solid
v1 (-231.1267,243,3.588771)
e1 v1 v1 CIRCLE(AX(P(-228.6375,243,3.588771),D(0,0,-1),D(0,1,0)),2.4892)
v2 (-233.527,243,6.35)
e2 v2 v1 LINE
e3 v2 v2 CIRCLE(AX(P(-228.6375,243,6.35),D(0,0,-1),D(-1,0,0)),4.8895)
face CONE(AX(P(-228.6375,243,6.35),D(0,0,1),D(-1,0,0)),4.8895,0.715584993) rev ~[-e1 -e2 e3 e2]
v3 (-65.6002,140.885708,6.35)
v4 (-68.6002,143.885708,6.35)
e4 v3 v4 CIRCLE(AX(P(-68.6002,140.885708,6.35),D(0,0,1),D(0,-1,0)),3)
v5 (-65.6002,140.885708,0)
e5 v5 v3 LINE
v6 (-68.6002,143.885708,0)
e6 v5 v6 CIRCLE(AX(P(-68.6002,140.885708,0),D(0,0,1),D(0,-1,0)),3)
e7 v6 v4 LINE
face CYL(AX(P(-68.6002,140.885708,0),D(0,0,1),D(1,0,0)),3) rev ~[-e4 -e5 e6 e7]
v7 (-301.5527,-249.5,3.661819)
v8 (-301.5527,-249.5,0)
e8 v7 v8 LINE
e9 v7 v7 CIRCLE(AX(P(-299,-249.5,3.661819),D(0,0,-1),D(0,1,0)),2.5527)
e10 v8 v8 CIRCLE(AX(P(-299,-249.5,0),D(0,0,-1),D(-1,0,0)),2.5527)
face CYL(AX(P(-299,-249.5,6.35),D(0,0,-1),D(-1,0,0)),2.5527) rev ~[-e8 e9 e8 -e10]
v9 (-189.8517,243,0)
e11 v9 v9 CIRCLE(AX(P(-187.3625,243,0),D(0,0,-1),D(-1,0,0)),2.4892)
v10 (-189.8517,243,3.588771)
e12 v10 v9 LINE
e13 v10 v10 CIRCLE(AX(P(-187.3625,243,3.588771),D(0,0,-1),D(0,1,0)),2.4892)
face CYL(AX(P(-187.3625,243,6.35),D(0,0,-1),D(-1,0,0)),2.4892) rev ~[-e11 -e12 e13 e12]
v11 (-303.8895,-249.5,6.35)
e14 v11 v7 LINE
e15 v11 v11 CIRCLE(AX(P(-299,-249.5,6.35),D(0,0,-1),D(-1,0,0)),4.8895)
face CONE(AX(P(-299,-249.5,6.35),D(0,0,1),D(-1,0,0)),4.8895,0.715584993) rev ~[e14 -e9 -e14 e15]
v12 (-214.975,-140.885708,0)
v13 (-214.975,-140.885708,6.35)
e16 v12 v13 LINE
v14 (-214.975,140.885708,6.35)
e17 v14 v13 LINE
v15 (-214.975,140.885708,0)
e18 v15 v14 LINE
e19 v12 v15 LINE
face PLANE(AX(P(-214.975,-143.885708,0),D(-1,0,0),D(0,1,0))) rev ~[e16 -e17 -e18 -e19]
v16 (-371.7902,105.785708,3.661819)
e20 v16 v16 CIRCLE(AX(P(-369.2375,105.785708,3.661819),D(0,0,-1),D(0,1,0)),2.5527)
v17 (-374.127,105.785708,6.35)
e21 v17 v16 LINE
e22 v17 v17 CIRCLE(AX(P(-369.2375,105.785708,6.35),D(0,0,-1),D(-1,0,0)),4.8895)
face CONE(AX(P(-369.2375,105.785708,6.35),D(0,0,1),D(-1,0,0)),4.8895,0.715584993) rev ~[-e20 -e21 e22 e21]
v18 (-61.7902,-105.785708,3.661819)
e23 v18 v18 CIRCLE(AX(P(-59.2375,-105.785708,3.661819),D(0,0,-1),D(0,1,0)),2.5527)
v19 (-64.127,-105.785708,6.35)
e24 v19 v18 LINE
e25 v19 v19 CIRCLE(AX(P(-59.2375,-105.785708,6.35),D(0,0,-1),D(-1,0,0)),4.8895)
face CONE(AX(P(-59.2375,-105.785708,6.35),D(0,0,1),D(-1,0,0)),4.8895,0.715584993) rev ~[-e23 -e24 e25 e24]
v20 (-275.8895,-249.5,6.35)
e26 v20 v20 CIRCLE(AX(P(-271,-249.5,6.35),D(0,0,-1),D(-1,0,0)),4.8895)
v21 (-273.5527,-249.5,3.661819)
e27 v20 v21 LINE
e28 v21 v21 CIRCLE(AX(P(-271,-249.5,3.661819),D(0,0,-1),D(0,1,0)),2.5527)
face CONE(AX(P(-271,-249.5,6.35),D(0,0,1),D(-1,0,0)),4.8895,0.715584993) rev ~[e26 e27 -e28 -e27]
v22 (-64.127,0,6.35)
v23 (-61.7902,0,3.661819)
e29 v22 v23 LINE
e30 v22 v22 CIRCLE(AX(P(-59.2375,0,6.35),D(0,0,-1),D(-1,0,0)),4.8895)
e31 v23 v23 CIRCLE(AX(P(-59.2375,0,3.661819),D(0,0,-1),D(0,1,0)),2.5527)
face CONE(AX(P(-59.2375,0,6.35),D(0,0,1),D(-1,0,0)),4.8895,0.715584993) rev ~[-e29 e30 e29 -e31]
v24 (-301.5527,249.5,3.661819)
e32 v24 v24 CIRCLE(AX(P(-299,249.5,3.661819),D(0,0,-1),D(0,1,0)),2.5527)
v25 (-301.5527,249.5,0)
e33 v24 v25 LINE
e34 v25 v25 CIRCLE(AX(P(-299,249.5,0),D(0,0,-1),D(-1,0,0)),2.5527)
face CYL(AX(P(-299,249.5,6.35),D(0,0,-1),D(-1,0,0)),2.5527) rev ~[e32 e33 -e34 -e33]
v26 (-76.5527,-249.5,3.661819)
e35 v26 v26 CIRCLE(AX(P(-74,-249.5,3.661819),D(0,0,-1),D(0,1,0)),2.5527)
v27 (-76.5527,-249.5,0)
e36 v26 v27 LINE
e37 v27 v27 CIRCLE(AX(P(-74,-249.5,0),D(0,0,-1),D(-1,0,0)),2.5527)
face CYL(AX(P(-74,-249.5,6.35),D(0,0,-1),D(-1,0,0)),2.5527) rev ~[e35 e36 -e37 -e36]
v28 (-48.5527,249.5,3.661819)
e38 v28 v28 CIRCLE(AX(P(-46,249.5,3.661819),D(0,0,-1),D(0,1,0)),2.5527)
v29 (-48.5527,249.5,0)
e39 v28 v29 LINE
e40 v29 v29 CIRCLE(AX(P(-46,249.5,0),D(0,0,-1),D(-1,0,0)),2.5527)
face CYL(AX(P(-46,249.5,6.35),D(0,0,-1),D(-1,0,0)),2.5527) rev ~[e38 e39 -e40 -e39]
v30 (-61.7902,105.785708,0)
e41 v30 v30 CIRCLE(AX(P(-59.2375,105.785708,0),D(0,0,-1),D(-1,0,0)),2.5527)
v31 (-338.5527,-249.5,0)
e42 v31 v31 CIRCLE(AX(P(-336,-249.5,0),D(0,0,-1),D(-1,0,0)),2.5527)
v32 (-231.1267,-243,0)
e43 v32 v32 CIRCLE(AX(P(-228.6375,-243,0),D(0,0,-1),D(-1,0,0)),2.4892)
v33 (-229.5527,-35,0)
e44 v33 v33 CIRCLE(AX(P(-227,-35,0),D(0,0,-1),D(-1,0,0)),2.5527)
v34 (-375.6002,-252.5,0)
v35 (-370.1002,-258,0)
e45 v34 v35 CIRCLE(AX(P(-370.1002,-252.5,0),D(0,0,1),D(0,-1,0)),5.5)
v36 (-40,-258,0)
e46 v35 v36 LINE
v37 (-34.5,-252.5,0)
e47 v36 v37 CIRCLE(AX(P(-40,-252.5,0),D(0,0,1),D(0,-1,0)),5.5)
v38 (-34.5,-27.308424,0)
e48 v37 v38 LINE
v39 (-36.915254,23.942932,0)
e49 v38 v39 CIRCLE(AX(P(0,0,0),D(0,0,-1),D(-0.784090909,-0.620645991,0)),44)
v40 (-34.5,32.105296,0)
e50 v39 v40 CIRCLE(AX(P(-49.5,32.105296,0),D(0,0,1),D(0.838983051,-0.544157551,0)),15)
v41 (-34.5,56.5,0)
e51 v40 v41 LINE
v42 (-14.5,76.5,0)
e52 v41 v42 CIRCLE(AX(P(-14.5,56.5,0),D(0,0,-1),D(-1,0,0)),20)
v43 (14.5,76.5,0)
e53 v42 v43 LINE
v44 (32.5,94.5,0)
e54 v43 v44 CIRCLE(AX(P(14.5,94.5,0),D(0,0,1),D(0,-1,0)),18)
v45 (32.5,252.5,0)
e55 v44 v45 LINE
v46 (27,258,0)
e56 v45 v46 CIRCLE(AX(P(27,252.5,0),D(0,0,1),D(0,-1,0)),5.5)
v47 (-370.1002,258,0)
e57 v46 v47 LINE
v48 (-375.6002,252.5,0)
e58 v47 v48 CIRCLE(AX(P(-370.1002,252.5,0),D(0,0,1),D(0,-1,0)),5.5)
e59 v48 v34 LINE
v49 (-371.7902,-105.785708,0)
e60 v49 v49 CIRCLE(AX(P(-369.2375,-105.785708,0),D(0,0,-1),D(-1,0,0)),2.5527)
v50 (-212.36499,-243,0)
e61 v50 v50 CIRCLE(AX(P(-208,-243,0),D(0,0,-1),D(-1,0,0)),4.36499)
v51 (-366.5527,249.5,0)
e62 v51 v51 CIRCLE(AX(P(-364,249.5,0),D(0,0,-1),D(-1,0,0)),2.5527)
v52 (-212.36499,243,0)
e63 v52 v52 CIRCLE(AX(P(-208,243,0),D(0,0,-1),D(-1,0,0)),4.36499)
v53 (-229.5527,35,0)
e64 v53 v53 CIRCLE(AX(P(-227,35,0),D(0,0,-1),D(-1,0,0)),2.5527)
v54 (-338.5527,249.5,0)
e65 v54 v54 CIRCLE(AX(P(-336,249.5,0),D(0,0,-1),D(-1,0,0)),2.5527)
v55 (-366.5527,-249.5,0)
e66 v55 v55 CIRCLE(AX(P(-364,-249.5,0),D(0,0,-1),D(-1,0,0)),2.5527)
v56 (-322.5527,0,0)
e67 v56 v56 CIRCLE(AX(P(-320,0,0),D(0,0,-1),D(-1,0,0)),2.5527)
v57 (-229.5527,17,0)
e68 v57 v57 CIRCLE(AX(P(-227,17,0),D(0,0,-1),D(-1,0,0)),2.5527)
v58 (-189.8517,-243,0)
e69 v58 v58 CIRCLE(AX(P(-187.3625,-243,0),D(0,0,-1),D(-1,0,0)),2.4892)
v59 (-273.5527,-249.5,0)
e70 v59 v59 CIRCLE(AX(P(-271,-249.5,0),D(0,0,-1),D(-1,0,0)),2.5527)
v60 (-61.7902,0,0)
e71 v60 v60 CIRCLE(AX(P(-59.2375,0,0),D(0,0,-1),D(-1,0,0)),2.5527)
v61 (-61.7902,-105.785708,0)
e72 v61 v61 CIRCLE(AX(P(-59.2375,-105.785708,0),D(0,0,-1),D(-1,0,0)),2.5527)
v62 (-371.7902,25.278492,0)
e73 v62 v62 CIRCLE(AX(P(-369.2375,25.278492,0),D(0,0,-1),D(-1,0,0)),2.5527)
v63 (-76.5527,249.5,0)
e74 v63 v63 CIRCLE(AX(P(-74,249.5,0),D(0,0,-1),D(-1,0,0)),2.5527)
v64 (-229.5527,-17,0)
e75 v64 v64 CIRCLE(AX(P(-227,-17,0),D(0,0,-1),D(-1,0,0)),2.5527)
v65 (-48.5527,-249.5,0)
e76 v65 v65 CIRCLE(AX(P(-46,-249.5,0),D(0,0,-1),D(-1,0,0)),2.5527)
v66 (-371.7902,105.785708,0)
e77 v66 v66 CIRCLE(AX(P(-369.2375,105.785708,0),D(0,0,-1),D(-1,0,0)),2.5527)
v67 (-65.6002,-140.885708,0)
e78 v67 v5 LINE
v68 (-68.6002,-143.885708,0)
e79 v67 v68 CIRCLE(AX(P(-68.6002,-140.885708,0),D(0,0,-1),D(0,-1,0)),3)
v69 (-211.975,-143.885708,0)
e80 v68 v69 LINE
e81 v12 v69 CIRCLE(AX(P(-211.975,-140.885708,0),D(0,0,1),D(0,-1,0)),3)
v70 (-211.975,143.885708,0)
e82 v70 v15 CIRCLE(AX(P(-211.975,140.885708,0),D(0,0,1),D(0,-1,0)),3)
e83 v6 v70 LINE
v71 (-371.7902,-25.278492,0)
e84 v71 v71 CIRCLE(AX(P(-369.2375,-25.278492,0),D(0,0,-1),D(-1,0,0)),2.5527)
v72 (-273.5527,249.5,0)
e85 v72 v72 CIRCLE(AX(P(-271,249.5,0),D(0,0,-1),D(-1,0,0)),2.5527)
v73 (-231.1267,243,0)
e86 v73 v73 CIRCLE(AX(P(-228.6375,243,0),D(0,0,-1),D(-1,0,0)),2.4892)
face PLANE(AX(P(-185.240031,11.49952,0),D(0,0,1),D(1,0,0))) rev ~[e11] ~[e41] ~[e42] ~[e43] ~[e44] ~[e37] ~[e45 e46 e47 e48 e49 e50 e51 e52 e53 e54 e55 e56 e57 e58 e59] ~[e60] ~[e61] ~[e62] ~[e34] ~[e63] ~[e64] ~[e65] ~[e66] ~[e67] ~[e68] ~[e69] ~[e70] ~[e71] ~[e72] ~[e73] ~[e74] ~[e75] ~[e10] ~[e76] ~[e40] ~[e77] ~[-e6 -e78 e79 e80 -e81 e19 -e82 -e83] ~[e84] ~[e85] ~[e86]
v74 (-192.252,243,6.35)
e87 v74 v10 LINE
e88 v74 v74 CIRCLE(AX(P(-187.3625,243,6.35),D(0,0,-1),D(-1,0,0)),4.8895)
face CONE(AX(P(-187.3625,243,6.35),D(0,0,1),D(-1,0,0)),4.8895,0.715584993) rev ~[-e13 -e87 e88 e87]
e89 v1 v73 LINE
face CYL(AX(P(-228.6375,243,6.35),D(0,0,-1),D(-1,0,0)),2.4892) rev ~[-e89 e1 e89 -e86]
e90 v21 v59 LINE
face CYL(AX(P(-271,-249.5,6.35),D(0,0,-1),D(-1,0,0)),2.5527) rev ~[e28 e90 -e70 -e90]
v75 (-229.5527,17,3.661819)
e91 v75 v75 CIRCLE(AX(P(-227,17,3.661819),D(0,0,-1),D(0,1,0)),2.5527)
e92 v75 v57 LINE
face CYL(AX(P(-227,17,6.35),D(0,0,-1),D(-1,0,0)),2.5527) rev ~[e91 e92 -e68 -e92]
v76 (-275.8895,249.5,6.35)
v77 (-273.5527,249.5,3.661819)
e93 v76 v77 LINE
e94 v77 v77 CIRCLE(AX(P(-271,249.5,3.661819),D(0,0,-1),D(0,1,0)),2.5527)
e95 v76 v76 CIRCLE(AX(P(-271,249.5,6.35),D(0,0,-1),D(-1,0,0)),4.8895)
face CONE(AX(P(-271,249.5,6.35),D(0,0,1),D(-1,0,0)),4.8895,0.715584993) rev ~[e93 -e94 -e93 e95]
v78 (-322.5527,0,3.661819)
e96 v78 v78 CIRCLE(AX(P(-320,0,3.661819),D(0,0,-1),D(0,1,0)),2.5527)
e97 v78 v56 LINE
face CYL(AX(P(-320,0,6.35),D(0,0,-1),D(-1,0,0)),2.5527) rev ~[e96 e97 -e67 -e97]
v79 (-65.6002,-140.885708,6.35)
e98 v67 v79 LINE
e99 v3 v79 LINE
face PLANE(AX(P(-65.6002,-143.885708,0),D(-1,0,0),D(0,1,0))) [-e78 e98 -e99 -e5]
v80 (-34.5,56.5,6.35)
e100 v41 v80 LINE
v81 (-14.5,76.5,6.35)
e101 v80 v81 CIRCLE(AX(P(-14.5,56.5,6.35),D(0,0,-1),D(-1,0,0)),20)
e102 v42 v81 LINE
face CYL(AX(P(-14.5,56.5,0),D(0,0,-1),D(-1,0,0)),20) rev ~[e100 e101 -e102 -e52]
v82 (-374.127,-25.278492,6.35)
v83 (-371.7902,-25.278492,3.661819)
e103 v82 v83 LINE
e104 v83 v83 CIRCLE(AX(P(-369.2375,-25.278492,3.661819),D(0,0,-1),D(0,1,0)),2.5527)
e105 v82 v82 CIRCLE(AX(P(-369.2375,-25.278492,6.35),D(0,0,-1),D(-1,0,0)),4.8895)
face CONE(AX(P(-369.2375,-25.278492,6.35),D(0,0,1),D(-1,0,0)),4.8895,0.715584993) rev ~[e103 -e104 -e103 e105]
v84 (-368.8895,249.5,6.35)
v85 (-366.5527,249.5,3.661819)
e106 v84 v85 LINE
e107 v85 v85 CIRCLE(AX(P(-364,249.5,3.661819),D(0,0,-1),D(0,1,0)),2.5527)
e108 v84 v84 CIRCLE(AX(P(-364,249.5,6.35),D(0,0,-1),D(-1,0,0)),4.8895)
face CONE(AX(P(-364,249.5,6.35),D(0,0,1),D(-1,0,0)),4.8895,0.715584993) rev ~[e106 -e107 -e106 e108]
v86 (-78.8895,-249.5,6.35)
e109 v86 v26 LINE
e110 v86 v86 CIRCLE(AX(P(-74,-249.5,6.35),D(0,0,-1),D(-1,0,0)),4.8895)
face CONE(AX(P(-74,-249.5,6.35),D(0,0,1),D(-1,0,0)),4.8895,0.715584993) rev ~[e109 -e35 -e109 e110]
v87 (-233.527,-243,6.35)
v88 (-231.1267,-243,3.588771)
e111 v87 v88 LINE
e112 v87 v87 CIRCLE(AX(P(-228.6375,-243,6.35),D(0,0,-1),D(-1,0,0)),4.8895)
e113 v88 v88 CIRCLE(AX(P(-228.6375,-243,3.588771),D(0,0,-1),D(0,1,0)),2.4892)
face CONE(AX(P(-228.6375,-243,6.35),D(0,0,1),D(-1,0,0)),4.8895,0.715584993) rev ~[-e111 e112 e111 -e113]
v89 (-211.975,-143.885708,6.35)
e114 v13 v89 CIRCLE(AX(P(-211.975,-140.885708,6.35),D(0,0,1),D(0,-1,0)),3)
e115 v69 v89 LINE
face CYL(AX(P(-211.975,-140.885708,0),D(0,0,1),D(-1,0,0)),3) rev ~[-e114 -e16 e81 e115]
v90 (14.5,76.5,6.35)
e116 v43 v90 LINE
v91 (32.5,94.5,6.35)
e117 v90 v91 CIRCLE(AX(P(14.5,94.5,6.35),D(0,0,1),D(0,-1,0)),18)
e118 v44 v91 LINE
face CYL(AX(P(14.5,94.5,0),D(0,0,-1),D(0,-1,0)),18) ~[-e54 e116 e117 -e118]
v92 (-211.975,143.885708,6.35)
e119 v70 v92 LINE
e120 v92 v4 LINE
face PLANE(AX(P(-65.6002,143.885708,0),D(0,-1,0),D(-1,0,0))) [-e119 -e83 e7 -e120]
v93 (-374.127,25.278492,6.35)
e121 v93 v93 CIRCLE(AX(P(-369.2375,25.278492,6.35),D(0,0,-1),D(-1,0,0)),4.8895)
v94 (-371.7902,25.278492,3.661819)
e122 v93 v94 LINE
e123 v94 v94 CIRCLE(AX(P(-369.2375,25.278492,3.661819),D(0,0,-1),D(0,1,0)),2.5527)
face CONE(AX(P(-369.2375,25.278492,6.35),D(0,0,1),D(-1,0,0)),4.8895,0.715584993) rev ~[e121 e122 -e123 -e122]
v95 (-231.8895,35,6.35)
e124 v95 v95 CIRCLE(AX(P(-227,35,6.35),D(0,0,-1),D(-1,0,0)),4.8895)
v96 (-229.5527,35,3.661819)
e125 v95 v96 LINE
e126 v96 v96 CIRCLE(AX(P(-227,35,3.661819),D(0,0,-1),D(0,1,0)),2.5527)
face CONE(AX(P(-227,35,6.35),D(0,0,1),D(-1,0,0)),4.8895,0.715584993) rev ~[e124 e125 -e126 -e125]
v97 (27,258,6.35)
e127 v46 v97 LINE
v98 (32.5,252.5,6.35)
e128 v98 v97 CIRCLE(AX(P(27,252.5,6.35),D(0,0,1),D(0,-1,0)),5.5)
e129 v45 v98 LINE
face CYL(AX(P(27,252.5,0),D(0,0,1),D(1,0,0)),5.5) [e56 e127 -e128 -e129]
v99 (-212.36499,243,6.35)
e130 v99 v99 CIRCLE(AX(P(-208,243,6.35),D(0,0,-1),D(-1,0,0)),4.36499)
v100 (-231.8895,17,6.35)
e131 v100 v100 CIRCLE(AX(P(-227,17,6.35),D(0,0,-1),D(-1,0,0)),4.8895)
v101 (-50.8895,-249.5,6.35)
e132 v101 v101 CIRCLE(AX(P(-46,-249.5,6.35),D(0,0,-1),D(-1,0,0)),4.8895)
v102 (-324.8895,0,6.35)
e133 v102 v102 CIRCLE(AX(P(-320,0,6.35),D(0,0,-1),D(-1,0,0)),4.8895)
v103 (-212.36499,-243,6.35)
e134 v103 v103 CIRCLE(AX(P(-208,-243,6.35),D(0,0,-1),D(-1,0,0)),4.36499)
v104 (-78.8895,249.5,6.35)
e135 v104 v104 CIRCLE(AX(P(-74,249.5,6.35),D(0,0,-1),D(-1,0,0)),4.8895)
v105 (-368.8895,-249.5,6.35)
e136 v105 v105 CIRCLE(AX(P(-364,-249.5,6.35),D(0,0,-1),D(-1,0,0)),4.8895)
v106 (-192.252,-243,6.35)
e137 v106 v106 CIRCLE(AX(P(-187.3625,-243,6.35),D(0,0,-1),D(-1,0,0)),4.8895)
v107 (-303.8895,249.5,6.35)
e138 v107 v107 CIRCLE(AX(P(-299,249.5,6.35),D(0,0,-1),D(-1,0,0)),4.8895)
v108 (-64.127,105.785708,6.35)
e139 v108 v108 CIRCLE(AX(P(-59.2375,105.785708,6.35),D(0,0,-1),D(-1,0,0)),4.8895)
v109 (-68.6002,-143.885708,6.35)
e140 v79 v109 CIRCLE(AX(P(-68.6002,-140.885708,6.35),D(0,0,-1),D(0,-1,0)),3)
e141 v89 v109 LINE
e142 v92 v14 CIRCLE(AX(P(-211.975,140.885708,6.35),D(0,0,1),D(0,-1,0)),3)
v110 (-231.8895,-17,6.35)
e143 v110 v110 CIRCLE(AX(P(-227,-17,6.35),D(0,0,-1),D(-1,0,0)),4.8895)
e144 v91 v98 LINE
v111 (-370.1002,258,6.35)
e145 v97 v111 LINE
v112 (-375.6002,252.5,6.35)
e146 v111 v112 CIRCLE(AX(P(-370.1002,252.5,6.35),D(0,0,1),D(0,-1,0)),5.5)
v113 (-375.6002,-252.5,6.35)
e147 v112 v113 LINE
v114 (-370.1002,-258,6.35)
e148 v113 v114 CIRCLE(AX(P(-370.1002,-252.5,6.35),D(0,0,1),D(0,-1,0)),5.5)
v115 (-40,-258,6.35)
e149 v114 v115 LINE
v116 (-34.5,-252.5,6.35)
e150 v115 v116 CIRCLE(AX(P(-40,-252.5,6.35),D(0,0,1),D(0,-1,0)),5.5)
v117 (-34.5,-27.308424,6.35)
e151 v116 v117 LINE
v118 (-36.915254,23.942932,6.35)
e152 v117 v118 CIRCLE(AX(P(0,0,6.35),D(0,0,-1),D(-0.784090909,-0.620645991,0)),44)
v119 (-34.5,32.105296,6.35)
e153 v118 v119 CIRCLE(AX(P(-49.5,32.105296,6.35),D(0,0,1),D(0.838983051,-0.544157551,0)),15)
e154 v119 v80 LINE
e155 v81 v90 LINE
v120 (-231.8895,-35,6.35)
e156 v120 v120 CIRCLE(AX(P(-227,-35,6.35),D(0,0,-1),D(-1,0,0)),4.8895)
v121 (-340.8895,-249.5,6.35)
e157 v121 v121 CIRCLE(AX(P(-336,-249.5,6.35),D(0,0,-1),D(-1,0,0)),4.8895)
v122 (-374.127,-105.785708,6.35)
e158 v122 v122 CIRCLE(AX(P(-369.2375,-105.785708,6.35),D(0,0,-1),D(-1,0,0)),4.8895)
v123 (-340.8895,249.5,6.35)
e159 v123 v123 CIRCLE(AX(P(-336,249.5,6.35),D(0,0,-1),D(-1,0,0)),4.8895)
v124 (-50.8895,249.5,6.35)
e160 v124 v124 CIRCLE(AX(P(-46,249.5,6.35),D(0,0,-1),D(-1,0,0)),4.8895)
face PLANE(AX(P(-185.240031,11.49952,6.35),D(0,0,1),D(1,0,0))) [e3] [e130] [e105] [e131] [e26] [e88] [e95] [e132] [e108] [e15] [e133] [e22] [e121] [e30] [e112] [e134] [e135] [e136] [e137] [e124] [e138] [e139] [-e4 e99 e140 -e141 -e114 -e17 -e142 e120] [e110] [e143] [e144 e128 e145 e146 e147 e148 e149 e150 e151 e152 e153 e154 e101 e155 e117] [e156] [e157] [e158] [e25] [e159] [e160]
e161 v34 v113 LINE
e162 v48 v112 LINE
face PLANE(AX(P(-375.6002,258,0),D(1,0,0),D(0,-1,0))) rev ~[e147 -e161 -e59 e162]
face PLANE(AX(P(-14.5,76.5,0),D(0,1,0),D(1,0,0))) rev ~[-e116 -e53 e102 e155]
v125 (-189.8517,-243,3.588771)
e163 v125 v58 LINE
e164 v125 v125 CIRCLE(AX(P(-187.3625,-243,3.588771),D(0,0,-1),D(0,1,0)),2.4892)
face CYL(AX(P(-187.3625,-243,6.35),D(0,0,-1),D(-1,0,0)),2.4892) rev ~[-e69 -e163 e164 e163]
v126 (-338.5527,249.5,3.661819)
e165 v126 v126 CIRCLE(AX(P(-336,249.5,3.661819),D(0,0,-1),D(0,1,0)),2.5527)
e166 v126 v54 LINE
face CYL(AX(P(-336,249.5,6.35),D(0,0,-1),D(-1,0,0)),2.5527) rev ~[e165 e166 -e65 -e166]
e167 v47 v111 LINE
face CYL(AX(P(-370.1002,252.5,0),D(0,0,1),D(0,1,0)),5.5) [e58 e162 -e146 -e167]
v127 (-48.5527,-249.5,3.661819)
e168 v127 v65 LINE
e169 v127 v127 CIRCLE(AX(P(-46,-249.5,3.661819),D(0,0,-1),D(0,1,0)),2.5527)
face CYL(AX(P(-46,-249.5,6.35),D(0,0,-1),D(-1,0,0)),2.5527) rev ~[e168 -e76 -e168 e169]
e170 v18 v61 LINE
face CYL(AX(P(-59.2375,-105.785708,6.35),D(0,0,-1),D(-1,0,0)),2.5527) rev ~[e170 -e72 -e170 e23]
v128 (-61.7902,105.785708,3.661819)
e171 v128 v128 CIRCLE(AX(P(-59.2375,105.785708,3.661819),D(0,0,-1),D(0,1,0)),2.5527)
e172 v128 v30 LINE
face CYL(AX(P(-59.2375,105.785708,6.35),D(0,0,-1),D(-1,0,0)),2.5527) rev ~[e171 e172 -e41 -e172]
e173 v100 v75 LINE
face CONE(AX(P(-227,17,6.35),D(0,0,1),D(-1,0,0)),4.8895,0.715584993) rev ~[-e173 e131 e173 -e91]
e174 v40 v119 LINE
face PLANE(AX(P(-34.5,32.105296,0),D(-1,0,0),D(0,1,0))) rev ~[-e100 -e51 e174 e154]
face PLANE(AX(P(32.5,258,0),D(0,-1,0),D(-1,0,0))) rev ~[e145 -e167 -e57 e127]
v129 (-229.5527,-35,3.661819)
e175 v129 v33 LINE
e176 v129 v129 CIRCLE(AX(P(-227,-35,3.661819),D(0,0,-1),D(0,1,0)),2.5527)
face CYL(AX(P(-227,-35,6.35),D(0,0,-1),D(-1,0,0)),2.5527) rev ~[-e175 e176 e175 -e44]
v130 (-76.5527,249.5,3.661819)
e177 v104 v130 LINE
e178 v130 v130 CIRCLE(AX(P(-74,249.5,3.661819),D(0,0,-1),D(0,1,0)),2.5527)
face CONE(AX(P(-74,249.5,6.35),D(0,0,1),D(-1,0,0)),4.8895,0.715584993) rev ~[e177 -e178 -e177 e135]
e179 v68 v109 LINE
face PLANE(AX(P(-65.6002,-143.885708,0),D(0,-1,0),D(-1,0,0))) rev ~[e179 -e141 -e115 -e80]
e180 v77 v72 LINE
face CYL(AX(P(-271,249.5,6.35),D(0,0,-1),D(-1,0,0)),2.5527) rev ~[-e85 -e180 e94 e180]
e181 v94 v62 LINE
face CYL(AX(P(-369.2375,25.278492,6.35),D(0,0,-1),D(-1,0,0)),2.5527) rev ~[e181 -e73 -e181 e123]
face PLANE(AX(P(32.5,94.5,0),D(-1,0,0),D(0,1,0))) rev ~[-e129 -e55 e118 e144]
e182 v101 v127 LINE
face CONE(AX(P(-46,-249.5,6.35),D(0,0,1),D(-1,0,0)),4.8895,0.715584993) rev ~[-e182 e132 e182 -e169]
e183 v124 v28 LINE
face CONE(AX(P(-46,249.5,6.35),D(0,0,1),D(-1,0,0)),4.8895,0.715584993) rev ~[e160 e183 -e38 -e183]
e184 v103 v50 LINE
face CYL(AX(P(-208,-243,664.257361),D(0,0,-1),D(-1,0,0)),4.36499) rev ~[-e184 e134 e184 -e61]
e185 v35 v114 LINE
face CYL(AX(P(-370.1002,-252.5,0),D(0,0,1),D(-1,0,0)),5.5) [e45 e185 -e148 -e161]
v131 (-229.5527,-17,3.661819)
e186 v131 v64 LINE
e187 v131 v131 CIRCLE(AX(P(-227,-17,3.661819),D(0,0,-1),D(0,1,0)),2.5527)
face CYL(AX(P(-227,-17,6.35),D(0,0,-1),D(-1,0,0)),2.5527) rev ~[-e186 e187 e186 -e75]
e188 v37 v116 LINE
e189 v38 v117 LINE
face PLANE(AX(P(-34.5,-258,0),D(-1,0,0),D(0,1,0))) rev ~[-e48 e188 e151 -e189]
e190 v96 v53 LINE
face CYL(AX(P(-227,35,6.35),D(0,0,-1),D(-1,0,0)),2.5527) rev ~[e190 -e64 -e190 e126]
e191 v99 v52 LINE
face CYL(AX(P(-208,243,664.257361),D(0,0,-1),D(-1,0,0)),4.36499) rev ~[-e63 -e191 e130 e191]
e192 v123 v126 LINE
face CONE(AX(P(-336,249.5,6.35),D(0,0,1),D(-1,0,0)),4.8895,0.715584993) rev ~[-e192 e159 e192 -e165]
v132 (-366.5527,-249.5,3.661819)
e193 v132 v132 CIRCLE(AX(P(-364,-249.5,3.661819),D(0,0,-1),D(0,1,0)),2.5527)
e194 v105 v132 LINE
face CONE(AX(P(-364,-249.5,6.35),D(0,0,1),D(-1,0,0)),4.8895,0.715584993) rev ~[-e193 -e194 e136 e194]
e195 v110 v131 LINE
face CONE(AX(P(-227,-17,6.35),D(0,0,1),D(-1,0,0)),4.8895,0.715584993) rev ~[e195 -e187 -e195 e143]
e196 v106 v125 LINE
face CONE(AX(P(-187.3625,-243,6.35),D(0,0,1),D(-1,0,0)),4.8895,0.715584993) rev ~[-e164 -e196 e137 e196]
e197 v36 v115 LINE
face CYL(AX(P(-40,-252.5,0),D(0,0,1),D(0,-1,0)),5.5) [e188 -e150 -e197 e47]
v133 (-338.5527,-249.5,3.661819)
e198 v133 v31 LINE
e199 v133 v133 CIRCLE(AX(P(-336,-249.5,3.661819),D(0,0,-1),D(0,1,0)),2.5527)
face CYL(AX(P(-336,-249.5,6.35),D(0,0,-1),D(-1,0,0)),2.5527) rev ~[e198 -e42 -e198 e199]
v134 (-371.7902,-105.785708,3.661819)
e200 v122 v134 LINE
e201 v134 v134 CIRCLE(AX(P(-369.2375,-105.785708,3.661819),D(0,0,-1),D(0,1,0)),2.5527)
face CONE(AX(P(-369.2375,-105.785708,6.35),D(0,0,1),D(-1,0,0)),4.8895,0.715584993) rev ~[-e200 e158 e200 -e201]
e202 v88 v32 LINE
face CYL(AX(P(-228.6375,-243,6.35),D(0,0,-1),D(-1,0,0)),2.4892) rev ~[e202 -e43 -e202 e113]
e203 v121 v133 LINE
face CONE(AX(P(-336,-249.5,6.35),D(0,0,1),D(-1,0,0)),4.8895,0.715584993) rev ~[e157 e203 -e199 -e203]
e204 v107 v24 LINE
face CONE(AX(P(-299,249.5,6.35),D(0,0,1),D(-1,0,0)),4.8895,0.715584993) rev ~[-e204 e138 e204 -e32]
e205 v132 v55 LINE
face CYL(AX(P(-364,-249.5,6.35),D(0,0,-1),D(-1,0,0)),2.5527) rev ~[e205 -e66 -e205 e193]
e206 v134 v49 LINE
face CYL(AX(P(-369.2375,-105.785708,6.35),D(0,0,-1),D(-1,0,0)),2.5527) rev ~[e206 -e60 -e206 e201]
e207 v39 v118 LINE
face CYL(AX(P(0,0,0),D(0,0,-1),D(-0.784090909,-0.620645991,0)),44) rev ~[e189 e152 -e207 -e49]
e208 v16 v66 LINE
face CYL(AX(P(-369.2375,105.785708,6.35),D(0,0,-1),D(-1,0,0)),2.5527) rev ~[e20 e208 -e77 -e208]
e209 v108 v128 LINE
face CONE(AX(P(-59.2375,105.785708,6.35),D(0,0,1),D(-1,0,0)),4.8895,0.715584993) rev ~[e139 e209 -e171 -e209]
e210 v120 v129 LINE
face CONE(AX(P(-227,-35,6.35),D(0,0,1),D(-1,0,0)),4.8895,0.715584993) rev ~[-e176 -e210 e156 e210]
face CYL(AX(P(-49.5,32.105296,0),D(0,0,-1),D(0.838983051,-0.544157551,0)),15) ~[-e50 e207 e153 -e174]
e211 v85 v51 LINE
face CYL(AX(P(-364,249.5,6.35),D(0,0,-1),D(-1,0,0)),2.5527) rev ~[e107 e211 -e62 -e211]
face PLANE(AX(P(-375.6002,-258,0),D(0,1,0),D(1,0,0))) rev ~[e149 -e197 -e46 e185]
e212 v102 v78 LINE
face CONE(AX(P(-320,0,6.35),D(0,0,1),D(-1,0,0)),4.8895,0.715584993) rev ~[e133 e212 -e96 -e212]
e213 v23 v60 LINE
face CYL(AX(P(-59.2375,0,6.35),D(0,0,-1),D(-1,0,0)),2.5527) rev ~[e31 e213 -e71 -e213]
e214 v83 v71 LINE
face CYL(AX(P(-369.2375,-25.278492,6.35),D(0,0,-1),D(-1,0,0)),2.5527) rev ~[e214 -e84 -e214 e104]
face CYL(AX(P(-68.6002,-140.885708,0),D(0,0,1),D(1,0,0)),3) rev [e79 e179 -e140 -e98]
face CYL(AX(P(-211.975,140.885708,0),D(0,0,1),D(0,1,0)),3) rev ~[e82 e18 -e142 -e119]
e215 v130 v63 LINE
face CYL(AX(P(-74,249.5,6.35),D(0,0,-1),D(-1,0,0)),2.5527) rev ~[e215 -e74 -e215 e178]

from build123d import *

# Parameters (mm, degrees)
BOSS_EXTRUDE1_DEPTH                             = 6.35
SKETCH2_W                                       = 149.3748
SKETCH2_H                                       = 287.7714167
CUT_EXTRUDE1_DEPTH                              = 7.35
FILLET1_R                                       = 3
CSK_FOR_10_FLAT_HEAD_MACHINE_SCREW2_D           = 5.1054
CSK_FOR_10_FLAT_HEAD_MACHINE_SCREW2_CSINK_D     = 9.779
CSK_FOR_10_FLAT_HEAD_MACHINE_SCREW2_CSINK_ANGLE = 82
CSK_FOR_10_FLAT_HEAD_MACHINE_SCREW1_D           = 5.1054
CSK_FOR_10_FLAT_HEAD_MACHINE_SCREW1_CSINK_D     = 9.779
CSK_FOR_10_FLAT_HEAD_MACHINE_SCREW1_CSINK_ANGLE = 82
CSK_FOR_10_FLAT_HEAD_MACHINE_SCREW3_D           = 5.1054
CSK_FOR_10_FLAT_HEAD_MACHINE_SCREW3_CSINK_D     = 9.779
CSK_FOR_10_FLAT_HEAD_MACHINE_SCREW3_CSINK_ANGLE = 82
CSK_FOR_10_FLAT_HEAD_MACHINE_SCREW5_D           = 4.9784
CSK_FOR_10_FLAT_HEAD_MACHINE_SCREW5_CSINK_D     = 9.779
CSK_FOR_10_FLAT_HEAD_MACHINE_SCREW5_CSINK_ANGLE = 82
F_5_16_CLEARANCE_HOLE1_D                        = 8.72998
FILLET2_R                                       = 5.5


with BuildPart() as part:
    # Sketch1 → Boss-Extrude1 (new body)
    with BuildSketch(Plane.XY):
        with BuildLine():
            Line((32.5, 94.5), (32.5, 258))
            Line((32.5, 258), (-375.6002, 258))
            Line((-375.6002, 258), (-375.6002, -258))
            Line((-375.6002, -258), (-34.5, -258))
            Line((-34.5, -258), (-34.5, -27.308423609))
            ThreePointArc((-34.5, -27.308423609), (-43.951223006, -2.071230621), (-36.915254237, 23.942932247))
            ThreePointArc((-36.915254237, 23.942932247), (-35.11648189, 27.849193214), (-34.5, 32.105295513))
            Line((-34.5, 32.105295513), (-34.5, 56.5))
            ThreePointArc((-34.5, 56.5), (-28.642135624, 70.642135624), (-14.5, 76.5))
            Line((-14.5, 76.5), (14.5, 76.5))
            ThreePointArc((14.5, 76.5), (27.227922061, 81.772077939), (32.5, 94.5))
        make_face()
    extrude(amount=BOSS_EXTRUDE1_DEPTH)

    # Sketch2 → Cut-Extrude1 (cut, through all)
    with BuildSketch(Plane(origin=(0, 0, 0), x_dir=(-1, 0, 0), z_dir=(0, 0, -1))):
        with Locations((140.2876, 0)):
            Rectangle(SKETCH2_W, SKETCH2_H)
    extrude(amount=-CUT_EXTRUDE1_DEPTH, mode=Mode.SUBTRACT)

    # Fillet1
    fillet1_edges = [part.edges().sort_by_distance(p)[0] for p in [
        (-65.6002, -143.88570835, 3.175),
        (-65.6002, 143.88570835, 3.175),
        (-214.975, 143.88570835, 3.175),
        (-214.975, -143.88570835, 3.175),
    ]]
    fillet(fillet1_edges, radius=FILLET1_R)

    # CSK for #10 Flat Head Machine Screw2 (through all)
    with Locations(Plane.XY.offset(6.35)):
        with Locations((-271, 249.5), (-299, 249.5), (-271, -249.5), (-299, -249.5), (-336, -249.5), (-364, -249.5), (-336, 249.5), (-364, 249.5), (-46, -249.5), (-74, -249.5), (-46, 249.5), (-74, 249.5)):
            CounterSinkHole(CSK_FOR_10_FLAT_HEAD_MACHINE_SCREW2_D / 2, CSK_FOR_10_FLAT_HEAD_MACHINE_SCREW2_CSINK_D / 2, counter_sink_angle=CSK_FOR_10_FLAT_HEAD_MACHINE_SCREW2_CSINK_ANGLE)

    # CSK for #10 Flat Head Machine Screw1 (through all)
    with Locations(Plane.XY.offset(6.35)):
        with Locations((-369.2375, 105.78570835), (-369.2375, 25.27849165), (-369.2375, -25.27849165), (-369.2375, -105.78570835), (-59.2375, 105.78570835), (-59.2375, 0), (-59.2375, -105.78570835)):
            CounterSinkHole(CSK_FOR_10_FLAT_HEAD_MACHINE_SCREW1_D / 2, CSK_FOR_10_FLAT_HEAD_MACHINE_SCREW1_CSINK_D / 2, counter_sink_angle=CSK_FOR_10_FLAT_HEAD_MACHINE_SCREW1_CSINK_ANGLE)

    # CSK for #10 Flat Head Machine Screw3 (through all)
    with Locations(Plane.XY.offset(6.35)):
        with Locations((-227, 17), (-320, 0), (-227, -35), (-227, -17), (-227, 35)):
            CounterSinkHole(CSK_FOR_10_FLAT_HEAD_MACHINE_SCREW3_D / 2, CSK_FOR_10_FLAT_HEAD_MACHINE_SCREW3_CSINK_D / 2, counter_sink_angle=CSK_FOR_10_FLAT_HEAD_MACHINE_SCREW3_CSINK_ANGLE)

    # CSK for #10 Flat Head Machine Screw5 (through all)
    with Locations(Plane.XY.offset(6.35)):
        with Locations((-228.6375, 243), (-187.3625, 243), (-187.3625, -243), (-228.6375, -243)):
            CounterSinkHole(CSK_FOR_10_FLAT_HEAD_MACHINE_SCREW5_D / 2, CSK_FOR_10_FLAT_HEAD_MACHINE_SCREW5_CSINK_D / 2, counter_sink_angle=CSK_FOR_10_FLAT_HEAD_MACHINE_SCREW5_CSINK_ANGLE)

    # 5/16 Clearance Hole1 (through all)
    with Locations(Plane.XY.offset(6.35)):
        with Locations((-208, 243), (-208, -243)):
            Hole(F_5_16_CLEARANCE_HOLE1_D / 2)

    # Fillet2
    fillet2_edges = [part.edges().sort_by_distance(p)[0] for p in [
        (-34.5, -258, 3.175),
        (-375.6002, -258, 3.175),
        (-375.6002, 258, 3.175),
        (32.5, 258, 3.175),
    ]]
    fillet(fillet2_edges, radius=FILLET2_R)


solid = part.part
